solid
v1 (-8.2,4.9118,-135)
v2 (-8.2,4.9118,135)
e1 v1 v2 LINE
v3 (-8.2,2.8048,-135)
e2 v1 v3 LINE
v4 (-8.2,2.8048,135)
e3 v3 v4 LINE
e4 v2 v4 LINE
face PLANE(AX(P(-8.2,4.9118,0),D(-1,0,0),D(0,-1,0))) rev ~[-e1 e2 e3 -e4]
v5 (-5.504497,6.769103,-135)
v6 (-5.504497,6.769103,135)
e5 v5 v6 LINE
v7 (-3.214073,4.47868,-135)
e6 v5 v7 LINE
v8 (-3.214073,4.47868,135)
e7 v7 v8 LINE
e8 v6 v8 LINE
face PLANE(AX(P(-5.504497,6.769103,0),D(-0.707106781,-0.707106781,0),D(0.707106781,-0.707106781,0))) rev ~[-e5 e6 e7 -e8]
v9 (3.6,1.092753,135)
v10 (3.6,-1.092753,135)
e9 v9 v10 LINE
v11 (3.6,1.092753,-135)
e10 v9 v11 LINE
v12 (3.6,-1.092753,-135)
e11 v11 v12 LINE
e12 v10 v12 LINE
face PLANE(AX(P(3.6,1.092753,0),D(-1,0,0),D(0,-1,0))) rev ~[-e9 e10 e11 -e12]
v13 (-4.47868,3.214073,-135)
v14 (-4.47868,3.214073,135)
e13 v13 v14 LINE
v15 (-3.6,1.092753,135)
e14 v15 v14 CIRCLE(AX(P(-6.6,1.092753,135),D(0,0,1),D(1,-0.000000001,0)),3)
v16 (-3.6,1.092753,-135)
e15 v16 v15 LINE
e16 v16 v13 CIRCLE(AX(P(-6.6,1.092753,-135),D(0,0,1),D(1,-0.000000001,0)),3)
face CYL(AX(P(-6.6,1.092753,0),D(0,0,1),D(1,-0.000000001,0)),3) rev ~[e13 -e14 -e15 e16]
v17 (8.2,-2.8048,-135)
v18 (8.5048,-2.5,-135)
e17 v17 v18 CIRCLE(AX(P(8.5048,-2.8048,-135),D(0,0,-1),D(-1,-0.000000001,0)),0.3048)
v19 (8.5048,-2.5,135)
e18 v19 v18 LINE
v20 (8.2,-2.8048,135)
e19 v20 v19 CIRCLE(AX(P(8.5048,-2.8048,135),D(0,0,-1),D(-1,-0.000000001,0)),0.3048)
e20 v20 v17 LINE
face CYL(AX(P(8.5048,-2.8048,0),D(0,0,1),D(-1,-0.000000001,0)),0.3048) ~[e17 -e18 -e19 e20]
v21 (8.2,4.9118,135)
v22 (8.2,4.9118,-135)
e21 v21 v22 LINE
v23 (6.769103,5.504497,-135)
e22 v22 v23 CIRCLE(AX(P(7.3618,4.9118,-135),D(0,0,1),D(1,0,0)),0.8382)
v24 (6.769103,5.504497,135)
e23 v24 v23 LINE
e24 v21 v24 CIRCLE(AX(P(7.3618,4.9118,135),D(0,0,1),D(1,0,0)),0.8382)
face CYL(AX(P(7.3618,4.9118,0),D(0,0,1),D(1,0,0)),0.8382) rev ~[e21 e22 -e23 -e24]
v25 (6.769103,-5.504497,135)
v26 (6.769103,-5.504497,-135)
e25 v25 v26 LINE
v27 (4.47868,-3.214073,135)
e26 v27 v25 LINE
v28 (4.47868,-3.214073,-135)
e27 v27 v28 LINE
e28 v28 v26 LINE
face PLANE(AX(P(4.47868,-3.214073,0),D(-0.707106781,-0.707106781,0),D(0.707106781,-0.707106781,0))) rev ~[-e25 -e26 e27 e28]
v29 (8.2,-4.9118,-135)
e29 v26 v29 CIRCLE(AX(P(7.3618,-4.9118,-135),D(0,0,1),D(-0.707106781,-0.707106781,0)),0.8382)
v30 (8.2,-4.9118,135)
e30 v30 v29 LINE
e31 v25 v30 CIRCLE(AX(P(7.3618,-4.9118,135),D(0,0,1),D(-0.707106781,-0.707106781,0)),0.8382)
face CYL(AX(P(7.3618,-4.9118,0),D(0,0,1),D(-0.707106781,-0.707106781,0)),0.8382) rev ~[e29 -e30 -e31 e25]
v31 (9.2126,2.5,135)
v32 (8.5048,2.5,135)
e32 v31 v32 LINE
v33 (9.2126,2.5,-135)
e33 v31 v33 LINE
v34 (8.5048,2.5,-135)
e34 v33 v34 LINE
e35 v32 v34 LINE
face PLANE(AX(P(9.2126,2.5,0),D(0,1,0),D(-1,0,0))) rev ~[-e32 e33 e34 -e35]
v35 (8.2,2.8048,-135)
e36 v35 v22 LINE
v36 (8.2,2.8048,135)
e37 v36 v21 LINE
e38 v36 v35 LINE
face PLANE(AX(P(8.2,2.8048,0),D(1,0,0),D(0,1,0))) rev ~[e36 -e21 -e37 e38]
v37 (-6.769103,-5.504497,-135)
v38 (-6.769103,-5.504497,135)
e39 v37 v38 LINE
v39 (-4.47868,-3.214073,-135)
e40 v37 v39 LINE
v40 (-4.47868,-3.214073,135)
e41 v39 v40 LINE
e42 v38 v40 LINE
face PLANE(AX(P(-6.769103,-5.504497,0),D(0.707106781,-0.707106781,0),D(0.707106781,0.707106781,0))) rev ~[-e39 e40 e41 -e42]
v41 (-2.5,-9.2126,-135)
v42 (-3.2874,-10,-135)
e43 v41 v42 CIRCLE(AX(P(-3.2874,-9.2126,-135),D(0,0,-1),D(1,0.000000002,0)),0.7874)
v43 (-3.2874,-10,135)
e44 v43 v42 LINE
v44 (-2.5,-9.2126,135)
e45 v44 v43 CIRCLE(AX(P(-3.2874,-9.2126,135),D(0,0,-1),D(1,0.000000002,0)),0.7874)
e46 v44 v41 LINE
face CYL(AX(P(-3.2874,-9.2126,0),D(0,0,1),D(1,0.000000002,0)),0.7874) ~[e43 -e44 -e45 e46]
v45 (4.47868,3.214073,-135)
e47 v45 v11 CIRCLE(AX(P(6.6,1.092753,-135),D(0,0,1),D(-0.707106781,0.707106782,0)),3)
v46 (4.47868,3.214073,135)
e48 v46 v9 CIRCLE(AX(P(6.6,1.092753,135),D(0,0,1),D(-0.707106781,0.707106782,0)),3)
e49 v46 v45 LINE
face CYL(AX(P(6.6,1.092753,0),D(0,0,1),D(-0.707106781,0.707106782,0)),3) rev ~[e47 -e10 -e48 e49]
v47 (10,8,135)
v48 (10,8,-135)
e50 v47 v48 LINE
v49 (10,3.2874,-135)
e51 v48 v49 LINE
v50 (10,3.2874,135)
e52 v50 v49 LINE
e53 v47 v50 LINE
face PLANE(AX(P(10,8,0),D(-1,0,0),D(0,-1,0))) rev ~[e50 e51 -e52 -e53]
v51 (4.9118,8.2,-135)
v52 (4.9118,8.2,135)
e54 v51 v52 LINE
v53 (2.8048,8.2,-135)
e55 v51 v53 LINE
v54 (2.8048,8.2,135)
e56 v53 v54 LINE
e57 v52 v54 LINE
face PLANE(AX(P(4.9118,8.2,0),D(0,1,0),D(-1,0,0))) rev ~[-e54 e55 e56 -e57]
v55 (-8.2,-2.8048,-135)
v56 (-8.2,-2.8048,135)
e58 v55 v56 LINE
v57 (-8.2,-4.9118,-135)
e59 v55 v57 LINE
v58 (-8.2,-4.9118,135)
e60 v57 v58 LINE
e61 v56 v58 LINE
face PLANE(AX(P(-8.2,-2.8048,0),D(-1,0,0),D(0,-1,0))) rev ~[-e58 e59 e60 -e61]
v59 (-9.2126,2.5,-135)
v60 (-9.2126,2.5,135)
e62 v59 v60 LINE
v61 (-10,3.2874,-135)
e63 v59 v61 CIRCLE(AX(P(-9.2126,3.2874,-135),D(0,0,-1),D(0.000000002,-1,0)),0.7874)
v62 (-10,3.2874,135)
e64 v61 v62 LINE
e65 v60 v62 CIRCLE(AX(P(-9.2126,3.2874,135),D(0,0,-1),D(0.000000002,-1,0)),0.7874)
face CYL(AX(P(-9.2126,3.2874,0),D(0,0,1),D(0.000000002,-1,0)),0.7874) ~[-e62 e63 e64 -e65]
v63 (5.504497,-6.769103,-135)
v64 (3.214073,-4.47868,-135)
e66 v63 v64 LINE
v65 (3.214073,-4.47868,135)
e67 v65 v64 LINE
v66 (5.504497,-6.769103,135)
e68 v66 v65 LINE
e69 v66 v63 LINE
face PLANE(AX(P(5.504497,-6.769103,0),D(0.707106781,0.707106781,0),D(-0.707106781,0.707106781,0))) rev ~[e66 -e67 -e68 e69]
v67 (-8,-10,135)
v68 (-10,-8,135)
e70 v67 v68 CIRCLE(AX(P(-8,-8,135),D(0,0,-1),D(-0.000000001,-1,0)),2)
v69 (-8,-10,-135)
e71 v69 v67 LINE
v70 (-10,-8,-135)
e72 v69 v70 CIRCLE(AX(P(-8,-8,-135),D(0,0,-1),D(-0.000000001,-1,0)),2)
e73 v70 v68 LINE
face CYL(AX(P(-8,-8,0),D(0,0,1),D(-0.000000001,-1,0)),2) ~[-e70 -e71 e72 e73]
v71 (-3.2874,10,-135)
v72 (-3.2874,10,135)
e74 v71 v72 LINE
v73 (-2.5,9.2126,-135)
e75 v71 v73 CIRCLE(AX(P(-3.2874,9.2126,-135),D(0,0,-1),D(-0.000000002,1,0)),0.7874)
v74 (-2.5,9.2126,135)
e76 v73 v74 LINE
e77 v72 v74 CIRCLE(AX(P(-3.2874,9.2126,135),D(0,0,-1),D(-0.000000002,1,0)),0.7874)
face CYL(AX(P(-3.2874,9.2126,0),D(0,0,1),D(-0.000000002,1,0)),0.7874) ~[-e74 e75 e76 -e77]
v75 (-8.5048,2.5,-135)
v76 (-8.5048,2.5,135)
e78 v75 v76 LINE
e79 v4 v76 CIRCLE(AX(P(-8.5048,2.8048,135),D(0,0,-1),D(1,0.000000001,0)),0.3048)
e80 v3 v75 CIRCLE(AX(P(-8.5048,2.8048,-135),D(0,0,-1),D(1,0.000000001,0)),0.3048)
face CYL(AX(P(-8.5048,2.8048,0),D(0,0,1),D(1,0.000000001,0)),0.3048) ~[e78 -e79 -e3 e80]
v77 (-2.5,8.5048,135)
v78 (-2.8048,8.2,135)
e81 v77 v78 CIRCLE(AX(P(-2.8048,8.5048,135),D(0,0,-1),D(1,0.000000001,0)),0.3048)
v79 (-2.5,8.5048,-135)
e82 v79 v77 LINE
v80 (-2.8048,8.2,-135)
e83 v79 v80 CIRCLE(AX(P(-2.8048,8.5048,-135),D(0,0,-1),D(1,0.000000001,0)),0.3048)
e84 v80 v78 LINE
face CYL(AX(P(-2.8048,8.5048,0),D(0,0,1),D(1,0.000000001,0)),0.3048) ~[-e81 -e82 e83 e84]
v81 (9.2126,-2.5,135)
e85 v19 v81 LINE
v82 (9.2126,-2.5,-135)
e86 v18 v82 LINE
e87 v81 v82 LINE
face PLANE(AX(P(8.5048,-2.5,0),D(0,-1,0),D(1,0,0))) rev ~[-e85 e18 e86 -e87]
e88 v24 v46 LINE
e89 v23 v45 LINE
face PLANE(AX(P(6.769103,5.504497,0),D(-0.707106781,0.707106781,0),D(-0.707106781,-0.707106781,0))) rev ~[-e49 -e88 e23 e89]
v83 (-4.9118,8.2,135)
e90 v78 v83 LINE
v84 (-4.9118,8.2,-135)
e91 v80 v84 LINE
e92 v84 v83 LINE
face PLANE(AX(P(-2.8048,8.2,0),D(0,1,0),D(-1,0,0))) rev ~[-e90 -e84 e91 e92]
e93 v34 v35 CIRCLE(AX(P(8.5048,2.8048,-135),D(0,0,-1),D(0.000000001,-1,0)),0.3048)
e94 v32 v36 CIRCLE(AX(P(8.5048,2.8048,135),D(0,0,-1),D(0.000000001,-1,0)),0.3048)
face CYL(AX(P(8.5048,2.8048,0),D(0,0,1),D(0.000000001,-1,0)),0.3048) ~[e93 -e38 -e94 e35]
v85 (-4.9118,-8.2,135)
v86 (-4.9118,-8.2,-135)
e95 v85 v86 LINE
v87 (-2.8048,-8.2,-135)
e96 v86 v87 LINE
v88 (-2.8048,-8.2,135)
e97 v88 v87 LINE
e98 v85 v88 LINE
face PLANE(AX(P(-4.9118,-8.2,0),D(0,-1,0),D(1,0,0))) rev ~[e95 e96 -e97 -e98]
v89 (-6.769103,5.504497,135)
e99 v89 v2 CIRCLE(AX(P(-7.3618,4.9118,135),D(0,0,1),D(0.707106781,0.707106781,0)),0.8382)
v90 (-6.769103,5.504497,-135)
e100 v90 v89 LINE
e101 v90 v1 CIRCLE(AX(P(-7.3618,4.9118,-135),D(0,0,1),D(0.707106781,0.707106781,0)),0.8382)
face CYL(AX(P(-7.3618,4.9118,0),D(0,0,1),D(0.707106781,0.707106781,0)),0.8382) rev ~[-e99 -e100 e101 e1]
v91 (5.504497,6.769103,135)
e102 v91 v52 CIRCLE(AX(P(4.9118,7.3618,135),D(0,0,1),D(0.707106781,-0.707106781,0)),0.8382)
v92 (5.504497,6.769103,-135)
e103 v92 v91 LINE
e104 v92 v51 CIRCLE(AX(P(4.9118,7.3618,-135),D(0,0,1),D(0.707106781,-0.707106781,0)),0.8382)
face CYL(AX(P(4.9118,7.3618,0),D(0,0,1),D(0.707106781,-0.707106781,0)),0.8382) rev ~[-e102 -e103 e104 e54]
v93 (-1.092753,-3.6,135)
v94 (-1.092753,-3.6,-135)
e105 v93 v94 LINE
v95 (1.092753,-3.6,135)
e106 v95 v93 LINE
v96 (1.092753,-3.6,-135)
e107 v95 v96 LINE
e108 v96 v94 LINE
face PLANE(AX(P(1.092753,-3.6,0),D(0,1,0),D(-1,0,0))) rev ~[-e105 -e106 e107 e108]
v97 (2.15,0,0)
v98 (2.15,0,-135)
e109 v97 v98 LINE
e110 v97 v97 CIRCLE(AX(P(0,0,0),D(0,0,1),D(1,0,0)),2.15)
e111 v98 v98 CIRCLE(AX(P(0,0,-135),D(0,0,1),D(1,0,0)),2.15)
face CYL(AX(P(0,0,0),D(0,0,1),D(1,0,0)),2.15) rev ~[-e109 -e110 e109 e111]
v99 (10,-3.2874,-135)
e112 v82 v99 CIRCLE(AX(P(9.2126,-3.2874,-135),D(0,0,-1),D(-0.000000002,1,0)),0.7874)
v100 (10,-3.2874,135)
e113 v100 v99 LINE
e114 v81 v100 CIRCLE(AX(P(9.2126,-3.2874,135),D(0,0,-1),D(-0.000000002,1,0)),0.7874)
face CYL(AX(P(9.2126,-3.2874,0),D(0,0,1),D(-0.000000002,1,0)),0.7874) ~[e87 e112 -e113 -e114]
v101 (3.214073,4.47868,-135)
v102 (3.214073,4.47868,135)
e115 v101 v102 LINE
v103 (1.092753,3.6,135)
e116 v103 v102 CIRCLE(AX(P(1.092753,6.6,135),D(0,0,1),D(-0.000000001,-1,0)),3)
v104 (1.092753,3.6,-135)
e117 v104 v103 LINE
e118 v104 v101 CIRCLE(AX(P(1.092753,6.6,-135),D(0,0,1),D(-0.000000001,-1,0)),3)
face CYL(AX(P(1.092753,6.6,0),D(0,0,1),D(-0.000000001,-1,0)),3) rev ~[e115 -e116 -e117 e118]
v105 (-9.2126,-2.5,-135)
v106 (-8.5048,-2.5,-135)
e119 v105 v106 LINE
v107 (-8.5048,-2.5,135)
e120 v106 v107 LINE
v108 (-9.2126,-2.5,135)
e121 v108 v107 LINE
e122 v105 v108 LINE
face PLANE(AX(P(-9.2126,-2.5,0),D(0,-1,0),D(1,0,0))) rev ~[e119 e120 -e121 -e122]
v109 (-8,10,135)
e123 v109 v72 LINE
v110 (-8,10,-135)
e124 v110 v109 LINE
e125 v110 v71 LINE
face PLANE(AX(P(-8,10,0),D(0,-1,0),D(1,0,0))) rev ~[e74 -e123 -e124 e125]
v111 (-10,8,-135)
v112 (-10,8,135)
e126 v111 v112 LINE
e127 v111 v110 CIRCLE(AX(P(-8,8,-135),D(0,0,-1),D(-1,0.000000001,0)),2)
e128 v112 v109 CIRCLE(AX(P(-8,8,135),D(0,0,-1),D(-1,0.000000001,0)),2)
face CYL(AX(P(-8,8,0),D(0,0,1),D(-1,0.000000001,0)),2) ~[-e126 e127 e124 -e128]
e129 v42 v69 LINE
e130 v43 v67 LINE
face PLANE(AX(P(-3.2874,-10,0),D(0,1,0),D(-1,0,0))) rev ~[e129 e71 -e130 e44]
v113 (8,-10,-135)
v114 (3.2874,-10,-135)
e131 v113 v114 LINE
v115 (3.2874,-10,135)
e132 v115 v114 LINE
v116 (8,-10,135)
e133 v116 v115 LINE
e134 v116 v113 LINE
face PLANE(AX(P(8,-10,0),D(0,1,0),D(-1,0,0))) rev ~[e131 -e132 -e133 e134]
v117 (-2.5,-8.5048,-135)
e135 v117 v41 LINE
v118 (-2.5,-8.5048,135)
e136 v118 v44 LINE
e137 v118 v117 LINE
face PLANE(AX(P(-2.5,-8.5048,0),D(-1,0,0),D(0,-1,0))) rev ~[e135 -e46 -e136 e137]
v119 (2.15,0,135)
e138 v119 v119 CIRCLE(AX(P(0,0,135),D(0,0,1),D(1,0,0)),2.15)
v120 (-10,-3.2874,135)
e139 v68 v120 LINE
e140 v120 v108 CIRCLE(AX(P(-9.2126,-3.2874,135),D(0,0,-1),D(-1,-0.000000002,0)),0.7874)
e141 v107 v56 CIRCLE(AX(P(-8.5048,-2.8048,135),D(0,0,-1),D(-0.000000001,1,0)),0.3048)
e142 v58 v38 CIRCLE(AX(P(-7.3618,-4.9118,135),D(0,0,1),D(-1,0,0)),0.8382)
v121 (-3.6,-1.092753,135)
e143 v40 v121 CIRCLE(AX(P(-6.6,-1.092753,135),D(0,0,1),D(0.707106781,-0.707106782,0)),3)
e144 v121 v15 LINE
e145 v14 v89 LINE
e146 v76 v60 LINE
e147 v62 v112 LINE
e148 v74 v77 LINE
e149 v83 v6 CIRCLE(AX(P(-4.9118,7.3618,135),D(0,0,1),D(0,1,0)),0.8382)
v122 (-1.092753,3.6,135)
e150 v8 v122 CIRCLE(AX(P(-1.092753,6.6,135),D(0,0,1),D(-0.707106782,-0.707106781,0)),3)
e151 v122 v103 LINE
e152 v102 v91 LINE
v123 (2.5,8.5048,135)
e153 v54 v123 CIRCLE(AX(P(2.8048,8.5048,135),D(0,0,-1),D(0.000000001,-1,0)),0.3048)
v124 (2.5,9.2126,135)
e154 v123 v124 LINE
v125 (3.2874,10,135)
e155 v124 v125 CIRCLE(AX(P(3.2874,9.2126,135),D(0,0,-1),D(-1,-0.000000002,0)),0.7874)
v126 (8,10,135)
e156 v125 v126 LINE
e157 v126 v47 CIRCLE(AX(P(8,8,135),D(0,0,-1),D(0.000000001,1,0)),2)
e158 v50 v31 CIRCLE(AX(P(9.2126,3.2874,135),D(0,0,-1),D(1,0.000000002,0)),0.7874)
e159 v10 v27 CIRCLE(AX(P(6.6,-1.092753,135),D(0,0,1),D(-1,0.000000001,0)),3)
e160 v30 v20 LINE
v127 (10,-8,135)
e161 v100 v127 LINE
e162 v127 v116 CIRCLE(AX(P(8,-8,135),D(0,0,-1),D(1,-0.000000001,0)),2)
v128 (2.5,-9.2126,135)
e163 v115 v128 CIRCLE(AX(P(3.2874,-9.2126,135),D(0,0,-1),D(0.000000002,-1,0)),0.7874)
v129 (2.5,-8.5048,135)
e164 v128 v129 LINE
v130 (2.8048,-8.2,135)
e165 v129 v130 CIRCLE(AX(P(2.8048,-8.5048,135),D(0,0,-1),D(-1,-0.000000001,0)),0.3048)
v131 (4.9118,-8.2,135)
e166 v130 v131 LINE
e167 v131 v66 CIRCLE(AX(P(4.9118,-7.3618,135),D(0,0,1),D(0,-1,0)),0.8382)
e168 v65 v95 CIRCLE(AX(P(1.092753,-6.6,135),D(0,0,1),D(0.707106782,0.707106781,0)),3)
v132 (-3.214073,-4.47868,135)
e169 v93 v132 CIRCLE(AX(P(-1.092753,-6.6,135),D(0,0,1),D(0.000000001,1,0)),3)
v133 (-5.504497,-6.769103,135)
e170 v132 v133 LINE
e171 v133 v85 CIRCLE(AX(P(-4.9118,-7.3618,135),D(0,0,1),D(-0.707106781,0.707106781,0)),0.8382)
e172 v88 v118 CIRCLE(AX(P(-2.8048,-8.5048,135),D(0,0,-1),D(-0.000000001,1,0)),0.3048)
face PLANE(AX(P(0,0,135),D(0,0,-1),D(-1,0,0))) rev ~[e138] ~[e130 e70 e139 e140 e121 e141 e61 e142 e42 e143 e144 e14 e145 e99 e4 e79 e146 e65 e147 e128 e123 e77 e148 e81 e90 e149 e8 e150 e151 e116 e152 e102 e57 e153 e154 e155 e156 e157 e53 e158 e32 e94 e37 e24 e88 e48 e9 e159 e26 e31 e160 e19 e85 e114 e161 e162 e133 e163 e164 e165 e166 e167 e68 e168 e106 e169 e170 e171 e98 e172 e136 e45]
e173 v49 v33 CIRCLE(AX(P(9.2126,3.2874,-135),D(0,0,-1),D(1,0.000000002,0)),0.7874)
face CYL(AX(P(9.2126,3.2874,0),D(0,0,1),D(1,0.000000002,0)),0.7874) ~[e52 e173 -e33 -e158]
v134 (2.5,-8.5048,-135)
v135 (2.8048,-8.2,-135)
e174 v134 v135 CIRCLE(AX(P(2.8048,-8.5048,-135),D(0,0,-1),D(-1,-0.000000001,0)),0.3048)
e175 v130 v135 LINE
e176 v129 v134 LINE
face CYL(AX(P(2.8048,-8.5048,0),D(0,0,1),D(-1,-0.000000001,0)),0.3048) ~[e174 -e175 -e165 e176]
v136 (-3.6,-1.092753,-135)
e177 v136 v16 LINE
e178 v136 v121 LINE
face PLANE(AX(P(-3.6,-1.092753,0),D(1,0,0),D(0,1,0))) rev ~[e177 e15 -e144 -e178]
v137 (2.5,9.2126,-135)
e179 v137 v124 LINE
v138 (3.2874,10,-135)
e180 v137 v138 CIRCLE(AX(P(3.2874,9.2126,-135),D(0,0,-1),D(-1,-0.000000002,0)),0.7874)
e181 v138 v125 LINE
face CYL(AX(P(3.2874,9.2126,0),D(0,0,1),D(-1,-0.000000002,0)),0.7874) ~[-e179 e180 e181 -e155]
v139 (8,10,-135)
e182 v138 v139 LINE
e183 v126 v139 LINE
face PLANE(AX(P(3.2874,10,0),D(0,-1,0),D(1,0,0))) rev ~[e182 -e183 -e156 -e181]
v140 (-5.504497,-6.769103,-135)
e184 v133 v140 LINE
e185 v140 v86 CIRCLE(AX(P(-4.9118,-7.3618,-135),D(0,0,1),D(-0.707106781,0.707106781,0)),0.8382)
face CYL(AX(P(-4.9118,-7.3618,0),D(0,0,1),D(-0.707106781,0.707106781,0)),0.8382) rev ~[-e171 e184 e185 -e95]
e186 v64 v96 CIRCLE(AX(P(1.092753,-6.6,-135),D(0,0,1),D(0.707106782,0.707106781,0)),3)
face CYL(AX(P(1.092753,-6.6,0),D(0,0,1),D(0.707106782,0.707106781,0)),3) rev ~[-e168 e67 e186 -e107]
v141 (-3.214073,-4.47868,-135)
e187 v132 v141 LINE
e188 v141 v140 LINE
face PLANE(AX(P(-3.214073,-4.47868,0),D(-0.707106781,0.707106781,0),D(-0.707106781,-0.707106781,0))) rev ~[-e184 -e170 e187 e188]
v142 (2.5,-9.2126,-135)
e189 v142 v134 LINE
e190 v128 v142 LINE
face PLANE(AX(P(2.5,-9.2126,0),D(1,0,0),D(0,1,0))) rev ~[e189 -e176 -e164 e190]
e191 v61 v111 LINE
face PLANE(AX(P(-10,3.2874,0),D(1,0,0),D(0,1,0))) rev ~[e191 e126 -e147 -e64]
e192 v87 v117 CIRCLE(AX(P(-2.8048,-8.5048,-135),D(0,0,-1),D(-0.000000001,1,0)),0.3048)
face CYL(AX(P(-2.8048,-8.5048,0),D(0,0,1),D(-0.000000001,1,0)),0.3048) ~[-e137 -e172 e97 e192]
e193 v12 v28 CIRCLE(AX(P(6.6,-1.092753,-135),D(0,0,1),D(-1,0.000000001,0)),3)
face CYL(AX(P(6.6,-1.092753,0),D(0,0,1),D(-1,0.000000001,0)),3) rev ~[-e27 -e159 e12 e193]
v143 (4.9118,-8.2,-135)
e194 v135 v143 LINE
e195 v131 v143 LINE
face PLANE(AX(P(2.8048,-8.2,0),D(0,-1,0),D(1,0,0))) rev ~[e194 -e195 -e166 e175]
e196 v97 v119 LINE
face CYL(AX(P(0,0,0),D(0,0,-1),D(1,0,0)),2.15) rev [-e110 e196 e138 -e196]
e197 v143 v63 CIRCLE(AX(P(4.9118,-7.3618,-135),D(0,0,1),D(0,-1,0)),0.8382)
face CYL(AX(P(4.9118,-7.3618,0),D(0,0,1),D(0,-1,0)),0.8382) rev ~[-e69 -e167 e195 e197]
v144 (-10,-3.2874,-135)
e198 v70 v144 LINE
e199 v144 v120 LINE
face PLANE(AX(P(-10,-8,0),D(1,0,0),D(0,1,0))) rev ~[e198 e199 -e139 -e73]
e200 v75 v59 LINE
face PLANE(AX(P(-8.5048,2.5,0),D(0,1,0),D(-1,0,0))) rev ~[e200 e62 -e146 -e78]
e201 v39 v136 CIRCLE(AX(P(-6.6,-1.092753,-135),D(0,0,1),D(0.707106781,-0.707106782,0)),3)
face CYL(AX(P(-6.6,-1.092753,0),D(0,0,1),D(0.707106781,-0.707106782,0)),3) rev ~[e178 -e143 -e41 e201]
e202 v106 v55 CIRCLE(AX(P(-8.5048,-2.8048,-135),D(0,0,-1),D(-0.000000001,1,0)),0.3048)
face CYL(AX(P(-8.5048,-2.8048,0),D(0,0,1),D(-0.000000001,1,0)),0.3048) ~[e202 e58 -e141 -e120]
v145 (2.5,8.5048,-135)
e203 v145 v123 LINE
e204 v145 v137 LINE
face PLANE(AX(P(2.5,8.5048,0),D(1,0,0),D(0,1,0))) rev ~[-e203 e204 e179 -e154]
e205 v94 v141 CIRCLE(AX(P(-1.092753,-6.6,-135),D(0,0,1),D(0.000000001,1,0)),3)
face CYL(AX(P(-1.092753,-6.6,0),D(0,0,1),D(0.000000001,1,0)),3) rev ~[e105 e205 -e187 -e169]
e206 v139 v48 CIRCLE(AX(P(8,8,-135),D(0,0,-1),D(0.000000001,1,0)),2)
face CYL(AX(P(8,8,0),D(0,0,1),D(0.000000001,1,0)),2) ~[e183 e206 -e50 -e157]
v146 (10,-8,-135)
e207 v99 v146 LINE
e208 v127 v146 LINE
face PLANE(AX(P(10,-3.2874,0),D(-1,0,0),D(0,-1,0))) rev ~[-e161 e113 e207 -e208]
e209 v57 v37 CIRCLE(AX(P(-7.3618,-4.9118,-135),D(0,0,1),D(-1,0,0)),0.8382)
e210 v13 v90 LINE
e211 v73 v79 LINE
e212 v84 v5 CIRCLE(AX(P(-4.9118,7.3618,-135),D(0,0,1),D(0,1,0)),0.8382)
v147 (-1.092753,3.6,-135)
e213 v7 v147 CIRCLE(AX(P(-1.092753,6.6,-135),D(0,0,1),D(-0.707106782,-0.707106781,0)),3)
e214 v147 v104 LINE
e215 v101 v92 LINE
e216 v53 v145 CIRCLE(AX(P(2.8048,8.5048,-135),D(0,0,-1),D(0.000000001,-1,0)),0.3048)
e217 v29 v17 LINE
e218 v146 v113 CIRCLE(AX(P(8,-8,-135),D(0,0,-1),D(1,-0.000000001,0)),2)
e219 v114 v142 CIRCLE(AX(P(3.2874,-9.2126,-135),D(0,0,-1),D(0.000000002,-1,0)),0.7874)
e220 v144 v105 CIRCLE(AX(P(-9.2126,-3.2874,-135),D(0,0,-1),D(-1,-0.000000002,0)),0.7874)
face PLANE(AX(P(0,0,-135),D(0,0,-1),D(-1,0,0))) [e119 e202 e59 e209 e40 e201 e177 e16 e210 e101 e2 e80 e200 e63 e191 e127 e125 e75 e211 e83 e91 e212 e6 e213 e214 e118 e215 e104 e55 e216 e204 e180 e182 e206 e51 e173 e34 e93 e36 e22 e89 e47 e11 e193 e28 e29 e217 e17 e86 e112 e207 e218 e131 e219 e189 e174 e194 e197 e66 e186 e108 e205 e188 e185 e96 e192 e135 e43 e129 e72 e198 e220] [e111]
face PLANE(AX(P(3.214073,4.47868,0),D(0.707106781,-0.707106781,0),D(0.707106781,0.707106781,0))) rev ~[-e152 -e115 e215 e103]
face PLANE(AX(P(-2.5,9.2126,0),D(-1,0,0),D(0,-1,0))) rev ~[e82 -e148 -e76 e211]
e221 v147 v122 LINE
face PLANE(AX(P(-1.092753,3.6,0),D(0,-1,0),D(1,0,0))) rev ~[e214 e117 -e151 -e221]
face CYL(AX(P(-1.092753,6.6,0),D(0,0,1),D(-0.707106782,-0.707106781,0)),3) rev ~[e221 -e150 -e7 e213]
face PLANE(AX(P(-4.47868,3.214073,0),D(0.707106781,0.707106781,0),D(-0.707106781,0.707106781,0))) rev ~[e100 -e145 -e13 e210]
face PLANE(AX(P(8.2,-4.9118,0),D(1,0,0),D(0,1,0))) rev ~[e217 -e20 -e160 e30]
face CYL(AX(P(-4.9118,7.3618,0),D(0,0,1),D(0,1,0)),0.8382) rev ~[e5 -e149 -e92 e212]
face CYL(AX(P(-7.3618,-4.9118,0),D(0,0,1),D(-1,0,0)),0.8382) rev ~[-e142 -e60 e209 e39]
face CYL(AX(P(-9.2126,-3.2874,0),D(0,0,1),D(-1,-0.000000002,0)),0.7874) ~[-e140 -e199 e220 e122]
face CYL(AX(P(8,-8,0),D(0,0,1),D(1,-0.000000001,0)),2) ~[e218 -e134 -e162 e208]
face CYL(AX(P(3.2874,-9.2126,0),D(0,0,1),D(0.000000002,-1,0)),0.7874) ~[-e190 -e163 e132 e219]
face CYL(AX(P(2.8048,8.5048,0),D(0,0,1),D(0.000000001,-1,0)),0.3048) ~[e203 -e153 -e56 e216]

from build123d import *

# Parameters (mm, degrees)
SKETCH3_R                = 2.15
BOSS_EXTRUDE1_DEPTH      = 135
BOSS_EXTRUDE1_DEPTH_BACK = 135


with BuildPart() as part:
    # Sketch3 → Boss-Extrude1 (new body, two sides)
    with BuildSketch(Plane.XY) as boss_extrude1_sk:
        with BuildLine():
            Line((3.2874, 10), (8, 10))
            ThreePointArc((8, 10), (9.414213562, 9.414213562), (10, 8))
            Line((10, 8), (10, 3.2874))
            ThreePointArc((10, 3.2874), (9.76937588, 2.73062412), (9.2126, 2.5))
            Line((9.2126, 2.5), (8.5048, 2.5))
            ThreePointArc((8.5048, 2.5), (8.289273853, 2.589273853), (8.2, 2.8048))
            Line((8.2, 2.8048), (8.2, 4.9118))
            ThreePointArc((8.2, 4.9118), (7.682565253, 5.686195824), (6.769103096, 5.504496904))
            Line((6.769103096, 5.504496904), (4.478679656, 3.214073464))
            ThreePointArc((4.478679656, 3.214073464), (3.828361402, 2.240803418), (3.6, 1.092753121))
            Line((3.6, 1.092753121), (3.6, -1.092753121))
            ThreePointArc((3.6, -1.092753121), (3.828361402, -2.240803418), (4.478679656, -3.214073464))
            Line((4.478679656, -3.214073464), (6.769103096, -5.504496904))
            ThreePointArc((6.769103096, -5.504496904), (7.682565253, -5.686195824), (8.2, -4.9118))
            Line((8.2, -4.9118), (8.2, -2.8048))
            ThreePointArc((8.2, -2.8048), (8.289273853, -2.589273853), (8.5048, -2.5))
            Line((8.5048, -2.5), (9.2126, -2.5))
            ThreePointArc((9.2126, -2.5), (9.76937588, -2.73062412), (10, -3.2874))
            Line((10, -3.2874), (10, -8))
            ThreePointArc((10, -8), (9.414213562, -9.414213562), (8, -10))
            Line((8, -10), (3.2874, -10))
            ThreePointArc((3.2874, -10), (2.73062412, -9.76937588), (2.5, -9.2126))
            Line((2.5, -9.2126), (2.5, -8.5048))
            ThreePointArc((2.5, -8.5048), (2.589273853, -8.289273853), (2.8048, -8.2))
            Line((2.8048, -8.2), (4.9118, -8.2))
            ThreePointArc((4.9118, -8.2), (5.686195824, -7.682565253), (5.504496904, -6.769103096))
            Line((5.504496904, -6.769103096), (3.214073464, -4.478679656))
            ThreePointArc((3.214073464, -4.478679656), (2.240803418, -3.828361402), (1.092753121, -3.6))
            Line((1.092753121, -3.6), (-1.092753121, -3.6))
            ThreePointArc((-1.092753121, -3.6), (-2.240803418, -3.828361402), (-3.214073464, -4.478679656))
            Line((-3.214073464, -4.478679656), (-5.504496904, -6.769103096))
            ThreePointArc((-5.504496904, -6.769103096), (-5.686195824, -7.682565253), (-4.9118, -8.2))
            Line((-4.9118, -8.2), (-2.8048, -8.2))
            ThreePointArc((-2.8048, -8.2), (-2.589273853, -8.289273853), (-2.5, -8.5048))
            Line((-2.5, -8.5048), (-2.5, -9.2126))
            ThreePointArc((-2.5, -9.2126), (-2.73062412, -9.76937588), (-3.2874, -10))
            Line((-3.2874, -10), (-8, -10))
            ThreePointArc((-8, -10), (-9.414213562, -9.414213562), (-10, -8))
            Line((-10, -8), (-10, -3.2874))
            ThreePointArc((-10, -3.2874), (-9.76937588, -2.73062412), (-9.2126, -2.5))
            Line((-9.2126, -2.5), (-8.5048, -2.5))
            ThreePointArc((-8.5048, -2.5), (-8.289273853, -2.589273853), (-8.2, -2.8048))
            Line((-8.2, -2.8048), (-8.2, -4.9118))
            ThreePointArc((-8.2, -4.9118), (-7.682565253, -5.686195824), (-6.769103096, -5.504496904))
            Line((-6.769103096, -5.504496904), (-4.478679656, -3.214073464))
            ThreePointArc((-4.478679656, -3.214073464), (-3.828361402, -2.240803418), (-3.6, -1.092753121))
            Line((-3.6, -1.092753121), (-3.6, 1.092753121))
            ThreePointArc((-3.6, 1.092753121), (-3.828361402, 2.240803418), (-4.478679656, 3.214073464))
            Line((-4.478679656, 3.214073464), (-6.769103096, 5.504496904))
            ThreePointArc((-6.769103096, 5.504496904), (-7.682565253, 5.686195824), (-8.2, 4.9118))
            Line((-8.2, 4.9118), (-8.2, 2.8048))
            ThreePointArc((-8.2, 2.8048), (-8.289273853, 2.589273853), (-8.5048, 2.5))
            Line((-8.5048, 2.5), (-9.2126, 2.5))
            ThreePointArc((-9.2126, 2.5), (-9.76937588, 2.73062412), (-10, 3.2874))
            Line((-10, 3.2874), (-10, 8))
            ThreePointArc((-10, 8), (-9.414213562, 9.414213562), (-8, 10))
            Line((-8, 10), (-3.2874, 10))
            ThreePointArc((-3.2874, 10), (-2.73062412, 9.76937588), (-2.5, 9.2126))
            Line((-2.5, 9.2126), (-2.5, 8.5048))
            ThreePointArc((-2.5, 8.5048), (-2.589273853, 8.289273853), (-2.8048, 8.2))
            Line((-2.8048, 8.2), (-4.9118, 8.2))
            ThreePointArc((-4.9118, 8.2), (-5.686195824, 7.682565253), (-5.504496904, 6.769103096))
            Line((-5.504496904, 6.769103096), (-3.214073464, 4.478679656))
            ThreePointArc((-3.214073464, 4.478679656), (-2.240803418, 3.828361402), (-1.092753121, 3.6))
            Line((-1.092753121, 3.6), (1.092753121, 3.6))
            ThreePointArc((1.092753121, 3.6), (2.240803418, 3.828361402), (3.214073464, 4.478679656))
            Line((3.214073464, 4.478679656), (5.504496904, 6.769103096))
            ThreePointArc((5.504496904, 6.769103096), (5.686195824, 7.682565253), (4.9118, 8.2))
            Line((4.9118, 8.2), (2.8048, 8.2))
            ThreePointArc((2.8048, 8.2), (2.589273853, 8.289273853), (2.5, 8.5048))
            Line((2.5, 8.5048), (2.5, 9.2126))
            ThreePointArc((2.5, 9.2126), (2.73062412, 9.76937588), (3.2874, 10))
        make_face()
        Circle(SKETCH3_R, mode=Mode.SUBTRACT)
    extrude(amount=BOSS_EXTRUDE1_DEPTH)
    extrude(boss_extrude1_sk.sketch, amount=-BOSS_EXTRUDE1_DEPTH_BACK)


solid = part.part
